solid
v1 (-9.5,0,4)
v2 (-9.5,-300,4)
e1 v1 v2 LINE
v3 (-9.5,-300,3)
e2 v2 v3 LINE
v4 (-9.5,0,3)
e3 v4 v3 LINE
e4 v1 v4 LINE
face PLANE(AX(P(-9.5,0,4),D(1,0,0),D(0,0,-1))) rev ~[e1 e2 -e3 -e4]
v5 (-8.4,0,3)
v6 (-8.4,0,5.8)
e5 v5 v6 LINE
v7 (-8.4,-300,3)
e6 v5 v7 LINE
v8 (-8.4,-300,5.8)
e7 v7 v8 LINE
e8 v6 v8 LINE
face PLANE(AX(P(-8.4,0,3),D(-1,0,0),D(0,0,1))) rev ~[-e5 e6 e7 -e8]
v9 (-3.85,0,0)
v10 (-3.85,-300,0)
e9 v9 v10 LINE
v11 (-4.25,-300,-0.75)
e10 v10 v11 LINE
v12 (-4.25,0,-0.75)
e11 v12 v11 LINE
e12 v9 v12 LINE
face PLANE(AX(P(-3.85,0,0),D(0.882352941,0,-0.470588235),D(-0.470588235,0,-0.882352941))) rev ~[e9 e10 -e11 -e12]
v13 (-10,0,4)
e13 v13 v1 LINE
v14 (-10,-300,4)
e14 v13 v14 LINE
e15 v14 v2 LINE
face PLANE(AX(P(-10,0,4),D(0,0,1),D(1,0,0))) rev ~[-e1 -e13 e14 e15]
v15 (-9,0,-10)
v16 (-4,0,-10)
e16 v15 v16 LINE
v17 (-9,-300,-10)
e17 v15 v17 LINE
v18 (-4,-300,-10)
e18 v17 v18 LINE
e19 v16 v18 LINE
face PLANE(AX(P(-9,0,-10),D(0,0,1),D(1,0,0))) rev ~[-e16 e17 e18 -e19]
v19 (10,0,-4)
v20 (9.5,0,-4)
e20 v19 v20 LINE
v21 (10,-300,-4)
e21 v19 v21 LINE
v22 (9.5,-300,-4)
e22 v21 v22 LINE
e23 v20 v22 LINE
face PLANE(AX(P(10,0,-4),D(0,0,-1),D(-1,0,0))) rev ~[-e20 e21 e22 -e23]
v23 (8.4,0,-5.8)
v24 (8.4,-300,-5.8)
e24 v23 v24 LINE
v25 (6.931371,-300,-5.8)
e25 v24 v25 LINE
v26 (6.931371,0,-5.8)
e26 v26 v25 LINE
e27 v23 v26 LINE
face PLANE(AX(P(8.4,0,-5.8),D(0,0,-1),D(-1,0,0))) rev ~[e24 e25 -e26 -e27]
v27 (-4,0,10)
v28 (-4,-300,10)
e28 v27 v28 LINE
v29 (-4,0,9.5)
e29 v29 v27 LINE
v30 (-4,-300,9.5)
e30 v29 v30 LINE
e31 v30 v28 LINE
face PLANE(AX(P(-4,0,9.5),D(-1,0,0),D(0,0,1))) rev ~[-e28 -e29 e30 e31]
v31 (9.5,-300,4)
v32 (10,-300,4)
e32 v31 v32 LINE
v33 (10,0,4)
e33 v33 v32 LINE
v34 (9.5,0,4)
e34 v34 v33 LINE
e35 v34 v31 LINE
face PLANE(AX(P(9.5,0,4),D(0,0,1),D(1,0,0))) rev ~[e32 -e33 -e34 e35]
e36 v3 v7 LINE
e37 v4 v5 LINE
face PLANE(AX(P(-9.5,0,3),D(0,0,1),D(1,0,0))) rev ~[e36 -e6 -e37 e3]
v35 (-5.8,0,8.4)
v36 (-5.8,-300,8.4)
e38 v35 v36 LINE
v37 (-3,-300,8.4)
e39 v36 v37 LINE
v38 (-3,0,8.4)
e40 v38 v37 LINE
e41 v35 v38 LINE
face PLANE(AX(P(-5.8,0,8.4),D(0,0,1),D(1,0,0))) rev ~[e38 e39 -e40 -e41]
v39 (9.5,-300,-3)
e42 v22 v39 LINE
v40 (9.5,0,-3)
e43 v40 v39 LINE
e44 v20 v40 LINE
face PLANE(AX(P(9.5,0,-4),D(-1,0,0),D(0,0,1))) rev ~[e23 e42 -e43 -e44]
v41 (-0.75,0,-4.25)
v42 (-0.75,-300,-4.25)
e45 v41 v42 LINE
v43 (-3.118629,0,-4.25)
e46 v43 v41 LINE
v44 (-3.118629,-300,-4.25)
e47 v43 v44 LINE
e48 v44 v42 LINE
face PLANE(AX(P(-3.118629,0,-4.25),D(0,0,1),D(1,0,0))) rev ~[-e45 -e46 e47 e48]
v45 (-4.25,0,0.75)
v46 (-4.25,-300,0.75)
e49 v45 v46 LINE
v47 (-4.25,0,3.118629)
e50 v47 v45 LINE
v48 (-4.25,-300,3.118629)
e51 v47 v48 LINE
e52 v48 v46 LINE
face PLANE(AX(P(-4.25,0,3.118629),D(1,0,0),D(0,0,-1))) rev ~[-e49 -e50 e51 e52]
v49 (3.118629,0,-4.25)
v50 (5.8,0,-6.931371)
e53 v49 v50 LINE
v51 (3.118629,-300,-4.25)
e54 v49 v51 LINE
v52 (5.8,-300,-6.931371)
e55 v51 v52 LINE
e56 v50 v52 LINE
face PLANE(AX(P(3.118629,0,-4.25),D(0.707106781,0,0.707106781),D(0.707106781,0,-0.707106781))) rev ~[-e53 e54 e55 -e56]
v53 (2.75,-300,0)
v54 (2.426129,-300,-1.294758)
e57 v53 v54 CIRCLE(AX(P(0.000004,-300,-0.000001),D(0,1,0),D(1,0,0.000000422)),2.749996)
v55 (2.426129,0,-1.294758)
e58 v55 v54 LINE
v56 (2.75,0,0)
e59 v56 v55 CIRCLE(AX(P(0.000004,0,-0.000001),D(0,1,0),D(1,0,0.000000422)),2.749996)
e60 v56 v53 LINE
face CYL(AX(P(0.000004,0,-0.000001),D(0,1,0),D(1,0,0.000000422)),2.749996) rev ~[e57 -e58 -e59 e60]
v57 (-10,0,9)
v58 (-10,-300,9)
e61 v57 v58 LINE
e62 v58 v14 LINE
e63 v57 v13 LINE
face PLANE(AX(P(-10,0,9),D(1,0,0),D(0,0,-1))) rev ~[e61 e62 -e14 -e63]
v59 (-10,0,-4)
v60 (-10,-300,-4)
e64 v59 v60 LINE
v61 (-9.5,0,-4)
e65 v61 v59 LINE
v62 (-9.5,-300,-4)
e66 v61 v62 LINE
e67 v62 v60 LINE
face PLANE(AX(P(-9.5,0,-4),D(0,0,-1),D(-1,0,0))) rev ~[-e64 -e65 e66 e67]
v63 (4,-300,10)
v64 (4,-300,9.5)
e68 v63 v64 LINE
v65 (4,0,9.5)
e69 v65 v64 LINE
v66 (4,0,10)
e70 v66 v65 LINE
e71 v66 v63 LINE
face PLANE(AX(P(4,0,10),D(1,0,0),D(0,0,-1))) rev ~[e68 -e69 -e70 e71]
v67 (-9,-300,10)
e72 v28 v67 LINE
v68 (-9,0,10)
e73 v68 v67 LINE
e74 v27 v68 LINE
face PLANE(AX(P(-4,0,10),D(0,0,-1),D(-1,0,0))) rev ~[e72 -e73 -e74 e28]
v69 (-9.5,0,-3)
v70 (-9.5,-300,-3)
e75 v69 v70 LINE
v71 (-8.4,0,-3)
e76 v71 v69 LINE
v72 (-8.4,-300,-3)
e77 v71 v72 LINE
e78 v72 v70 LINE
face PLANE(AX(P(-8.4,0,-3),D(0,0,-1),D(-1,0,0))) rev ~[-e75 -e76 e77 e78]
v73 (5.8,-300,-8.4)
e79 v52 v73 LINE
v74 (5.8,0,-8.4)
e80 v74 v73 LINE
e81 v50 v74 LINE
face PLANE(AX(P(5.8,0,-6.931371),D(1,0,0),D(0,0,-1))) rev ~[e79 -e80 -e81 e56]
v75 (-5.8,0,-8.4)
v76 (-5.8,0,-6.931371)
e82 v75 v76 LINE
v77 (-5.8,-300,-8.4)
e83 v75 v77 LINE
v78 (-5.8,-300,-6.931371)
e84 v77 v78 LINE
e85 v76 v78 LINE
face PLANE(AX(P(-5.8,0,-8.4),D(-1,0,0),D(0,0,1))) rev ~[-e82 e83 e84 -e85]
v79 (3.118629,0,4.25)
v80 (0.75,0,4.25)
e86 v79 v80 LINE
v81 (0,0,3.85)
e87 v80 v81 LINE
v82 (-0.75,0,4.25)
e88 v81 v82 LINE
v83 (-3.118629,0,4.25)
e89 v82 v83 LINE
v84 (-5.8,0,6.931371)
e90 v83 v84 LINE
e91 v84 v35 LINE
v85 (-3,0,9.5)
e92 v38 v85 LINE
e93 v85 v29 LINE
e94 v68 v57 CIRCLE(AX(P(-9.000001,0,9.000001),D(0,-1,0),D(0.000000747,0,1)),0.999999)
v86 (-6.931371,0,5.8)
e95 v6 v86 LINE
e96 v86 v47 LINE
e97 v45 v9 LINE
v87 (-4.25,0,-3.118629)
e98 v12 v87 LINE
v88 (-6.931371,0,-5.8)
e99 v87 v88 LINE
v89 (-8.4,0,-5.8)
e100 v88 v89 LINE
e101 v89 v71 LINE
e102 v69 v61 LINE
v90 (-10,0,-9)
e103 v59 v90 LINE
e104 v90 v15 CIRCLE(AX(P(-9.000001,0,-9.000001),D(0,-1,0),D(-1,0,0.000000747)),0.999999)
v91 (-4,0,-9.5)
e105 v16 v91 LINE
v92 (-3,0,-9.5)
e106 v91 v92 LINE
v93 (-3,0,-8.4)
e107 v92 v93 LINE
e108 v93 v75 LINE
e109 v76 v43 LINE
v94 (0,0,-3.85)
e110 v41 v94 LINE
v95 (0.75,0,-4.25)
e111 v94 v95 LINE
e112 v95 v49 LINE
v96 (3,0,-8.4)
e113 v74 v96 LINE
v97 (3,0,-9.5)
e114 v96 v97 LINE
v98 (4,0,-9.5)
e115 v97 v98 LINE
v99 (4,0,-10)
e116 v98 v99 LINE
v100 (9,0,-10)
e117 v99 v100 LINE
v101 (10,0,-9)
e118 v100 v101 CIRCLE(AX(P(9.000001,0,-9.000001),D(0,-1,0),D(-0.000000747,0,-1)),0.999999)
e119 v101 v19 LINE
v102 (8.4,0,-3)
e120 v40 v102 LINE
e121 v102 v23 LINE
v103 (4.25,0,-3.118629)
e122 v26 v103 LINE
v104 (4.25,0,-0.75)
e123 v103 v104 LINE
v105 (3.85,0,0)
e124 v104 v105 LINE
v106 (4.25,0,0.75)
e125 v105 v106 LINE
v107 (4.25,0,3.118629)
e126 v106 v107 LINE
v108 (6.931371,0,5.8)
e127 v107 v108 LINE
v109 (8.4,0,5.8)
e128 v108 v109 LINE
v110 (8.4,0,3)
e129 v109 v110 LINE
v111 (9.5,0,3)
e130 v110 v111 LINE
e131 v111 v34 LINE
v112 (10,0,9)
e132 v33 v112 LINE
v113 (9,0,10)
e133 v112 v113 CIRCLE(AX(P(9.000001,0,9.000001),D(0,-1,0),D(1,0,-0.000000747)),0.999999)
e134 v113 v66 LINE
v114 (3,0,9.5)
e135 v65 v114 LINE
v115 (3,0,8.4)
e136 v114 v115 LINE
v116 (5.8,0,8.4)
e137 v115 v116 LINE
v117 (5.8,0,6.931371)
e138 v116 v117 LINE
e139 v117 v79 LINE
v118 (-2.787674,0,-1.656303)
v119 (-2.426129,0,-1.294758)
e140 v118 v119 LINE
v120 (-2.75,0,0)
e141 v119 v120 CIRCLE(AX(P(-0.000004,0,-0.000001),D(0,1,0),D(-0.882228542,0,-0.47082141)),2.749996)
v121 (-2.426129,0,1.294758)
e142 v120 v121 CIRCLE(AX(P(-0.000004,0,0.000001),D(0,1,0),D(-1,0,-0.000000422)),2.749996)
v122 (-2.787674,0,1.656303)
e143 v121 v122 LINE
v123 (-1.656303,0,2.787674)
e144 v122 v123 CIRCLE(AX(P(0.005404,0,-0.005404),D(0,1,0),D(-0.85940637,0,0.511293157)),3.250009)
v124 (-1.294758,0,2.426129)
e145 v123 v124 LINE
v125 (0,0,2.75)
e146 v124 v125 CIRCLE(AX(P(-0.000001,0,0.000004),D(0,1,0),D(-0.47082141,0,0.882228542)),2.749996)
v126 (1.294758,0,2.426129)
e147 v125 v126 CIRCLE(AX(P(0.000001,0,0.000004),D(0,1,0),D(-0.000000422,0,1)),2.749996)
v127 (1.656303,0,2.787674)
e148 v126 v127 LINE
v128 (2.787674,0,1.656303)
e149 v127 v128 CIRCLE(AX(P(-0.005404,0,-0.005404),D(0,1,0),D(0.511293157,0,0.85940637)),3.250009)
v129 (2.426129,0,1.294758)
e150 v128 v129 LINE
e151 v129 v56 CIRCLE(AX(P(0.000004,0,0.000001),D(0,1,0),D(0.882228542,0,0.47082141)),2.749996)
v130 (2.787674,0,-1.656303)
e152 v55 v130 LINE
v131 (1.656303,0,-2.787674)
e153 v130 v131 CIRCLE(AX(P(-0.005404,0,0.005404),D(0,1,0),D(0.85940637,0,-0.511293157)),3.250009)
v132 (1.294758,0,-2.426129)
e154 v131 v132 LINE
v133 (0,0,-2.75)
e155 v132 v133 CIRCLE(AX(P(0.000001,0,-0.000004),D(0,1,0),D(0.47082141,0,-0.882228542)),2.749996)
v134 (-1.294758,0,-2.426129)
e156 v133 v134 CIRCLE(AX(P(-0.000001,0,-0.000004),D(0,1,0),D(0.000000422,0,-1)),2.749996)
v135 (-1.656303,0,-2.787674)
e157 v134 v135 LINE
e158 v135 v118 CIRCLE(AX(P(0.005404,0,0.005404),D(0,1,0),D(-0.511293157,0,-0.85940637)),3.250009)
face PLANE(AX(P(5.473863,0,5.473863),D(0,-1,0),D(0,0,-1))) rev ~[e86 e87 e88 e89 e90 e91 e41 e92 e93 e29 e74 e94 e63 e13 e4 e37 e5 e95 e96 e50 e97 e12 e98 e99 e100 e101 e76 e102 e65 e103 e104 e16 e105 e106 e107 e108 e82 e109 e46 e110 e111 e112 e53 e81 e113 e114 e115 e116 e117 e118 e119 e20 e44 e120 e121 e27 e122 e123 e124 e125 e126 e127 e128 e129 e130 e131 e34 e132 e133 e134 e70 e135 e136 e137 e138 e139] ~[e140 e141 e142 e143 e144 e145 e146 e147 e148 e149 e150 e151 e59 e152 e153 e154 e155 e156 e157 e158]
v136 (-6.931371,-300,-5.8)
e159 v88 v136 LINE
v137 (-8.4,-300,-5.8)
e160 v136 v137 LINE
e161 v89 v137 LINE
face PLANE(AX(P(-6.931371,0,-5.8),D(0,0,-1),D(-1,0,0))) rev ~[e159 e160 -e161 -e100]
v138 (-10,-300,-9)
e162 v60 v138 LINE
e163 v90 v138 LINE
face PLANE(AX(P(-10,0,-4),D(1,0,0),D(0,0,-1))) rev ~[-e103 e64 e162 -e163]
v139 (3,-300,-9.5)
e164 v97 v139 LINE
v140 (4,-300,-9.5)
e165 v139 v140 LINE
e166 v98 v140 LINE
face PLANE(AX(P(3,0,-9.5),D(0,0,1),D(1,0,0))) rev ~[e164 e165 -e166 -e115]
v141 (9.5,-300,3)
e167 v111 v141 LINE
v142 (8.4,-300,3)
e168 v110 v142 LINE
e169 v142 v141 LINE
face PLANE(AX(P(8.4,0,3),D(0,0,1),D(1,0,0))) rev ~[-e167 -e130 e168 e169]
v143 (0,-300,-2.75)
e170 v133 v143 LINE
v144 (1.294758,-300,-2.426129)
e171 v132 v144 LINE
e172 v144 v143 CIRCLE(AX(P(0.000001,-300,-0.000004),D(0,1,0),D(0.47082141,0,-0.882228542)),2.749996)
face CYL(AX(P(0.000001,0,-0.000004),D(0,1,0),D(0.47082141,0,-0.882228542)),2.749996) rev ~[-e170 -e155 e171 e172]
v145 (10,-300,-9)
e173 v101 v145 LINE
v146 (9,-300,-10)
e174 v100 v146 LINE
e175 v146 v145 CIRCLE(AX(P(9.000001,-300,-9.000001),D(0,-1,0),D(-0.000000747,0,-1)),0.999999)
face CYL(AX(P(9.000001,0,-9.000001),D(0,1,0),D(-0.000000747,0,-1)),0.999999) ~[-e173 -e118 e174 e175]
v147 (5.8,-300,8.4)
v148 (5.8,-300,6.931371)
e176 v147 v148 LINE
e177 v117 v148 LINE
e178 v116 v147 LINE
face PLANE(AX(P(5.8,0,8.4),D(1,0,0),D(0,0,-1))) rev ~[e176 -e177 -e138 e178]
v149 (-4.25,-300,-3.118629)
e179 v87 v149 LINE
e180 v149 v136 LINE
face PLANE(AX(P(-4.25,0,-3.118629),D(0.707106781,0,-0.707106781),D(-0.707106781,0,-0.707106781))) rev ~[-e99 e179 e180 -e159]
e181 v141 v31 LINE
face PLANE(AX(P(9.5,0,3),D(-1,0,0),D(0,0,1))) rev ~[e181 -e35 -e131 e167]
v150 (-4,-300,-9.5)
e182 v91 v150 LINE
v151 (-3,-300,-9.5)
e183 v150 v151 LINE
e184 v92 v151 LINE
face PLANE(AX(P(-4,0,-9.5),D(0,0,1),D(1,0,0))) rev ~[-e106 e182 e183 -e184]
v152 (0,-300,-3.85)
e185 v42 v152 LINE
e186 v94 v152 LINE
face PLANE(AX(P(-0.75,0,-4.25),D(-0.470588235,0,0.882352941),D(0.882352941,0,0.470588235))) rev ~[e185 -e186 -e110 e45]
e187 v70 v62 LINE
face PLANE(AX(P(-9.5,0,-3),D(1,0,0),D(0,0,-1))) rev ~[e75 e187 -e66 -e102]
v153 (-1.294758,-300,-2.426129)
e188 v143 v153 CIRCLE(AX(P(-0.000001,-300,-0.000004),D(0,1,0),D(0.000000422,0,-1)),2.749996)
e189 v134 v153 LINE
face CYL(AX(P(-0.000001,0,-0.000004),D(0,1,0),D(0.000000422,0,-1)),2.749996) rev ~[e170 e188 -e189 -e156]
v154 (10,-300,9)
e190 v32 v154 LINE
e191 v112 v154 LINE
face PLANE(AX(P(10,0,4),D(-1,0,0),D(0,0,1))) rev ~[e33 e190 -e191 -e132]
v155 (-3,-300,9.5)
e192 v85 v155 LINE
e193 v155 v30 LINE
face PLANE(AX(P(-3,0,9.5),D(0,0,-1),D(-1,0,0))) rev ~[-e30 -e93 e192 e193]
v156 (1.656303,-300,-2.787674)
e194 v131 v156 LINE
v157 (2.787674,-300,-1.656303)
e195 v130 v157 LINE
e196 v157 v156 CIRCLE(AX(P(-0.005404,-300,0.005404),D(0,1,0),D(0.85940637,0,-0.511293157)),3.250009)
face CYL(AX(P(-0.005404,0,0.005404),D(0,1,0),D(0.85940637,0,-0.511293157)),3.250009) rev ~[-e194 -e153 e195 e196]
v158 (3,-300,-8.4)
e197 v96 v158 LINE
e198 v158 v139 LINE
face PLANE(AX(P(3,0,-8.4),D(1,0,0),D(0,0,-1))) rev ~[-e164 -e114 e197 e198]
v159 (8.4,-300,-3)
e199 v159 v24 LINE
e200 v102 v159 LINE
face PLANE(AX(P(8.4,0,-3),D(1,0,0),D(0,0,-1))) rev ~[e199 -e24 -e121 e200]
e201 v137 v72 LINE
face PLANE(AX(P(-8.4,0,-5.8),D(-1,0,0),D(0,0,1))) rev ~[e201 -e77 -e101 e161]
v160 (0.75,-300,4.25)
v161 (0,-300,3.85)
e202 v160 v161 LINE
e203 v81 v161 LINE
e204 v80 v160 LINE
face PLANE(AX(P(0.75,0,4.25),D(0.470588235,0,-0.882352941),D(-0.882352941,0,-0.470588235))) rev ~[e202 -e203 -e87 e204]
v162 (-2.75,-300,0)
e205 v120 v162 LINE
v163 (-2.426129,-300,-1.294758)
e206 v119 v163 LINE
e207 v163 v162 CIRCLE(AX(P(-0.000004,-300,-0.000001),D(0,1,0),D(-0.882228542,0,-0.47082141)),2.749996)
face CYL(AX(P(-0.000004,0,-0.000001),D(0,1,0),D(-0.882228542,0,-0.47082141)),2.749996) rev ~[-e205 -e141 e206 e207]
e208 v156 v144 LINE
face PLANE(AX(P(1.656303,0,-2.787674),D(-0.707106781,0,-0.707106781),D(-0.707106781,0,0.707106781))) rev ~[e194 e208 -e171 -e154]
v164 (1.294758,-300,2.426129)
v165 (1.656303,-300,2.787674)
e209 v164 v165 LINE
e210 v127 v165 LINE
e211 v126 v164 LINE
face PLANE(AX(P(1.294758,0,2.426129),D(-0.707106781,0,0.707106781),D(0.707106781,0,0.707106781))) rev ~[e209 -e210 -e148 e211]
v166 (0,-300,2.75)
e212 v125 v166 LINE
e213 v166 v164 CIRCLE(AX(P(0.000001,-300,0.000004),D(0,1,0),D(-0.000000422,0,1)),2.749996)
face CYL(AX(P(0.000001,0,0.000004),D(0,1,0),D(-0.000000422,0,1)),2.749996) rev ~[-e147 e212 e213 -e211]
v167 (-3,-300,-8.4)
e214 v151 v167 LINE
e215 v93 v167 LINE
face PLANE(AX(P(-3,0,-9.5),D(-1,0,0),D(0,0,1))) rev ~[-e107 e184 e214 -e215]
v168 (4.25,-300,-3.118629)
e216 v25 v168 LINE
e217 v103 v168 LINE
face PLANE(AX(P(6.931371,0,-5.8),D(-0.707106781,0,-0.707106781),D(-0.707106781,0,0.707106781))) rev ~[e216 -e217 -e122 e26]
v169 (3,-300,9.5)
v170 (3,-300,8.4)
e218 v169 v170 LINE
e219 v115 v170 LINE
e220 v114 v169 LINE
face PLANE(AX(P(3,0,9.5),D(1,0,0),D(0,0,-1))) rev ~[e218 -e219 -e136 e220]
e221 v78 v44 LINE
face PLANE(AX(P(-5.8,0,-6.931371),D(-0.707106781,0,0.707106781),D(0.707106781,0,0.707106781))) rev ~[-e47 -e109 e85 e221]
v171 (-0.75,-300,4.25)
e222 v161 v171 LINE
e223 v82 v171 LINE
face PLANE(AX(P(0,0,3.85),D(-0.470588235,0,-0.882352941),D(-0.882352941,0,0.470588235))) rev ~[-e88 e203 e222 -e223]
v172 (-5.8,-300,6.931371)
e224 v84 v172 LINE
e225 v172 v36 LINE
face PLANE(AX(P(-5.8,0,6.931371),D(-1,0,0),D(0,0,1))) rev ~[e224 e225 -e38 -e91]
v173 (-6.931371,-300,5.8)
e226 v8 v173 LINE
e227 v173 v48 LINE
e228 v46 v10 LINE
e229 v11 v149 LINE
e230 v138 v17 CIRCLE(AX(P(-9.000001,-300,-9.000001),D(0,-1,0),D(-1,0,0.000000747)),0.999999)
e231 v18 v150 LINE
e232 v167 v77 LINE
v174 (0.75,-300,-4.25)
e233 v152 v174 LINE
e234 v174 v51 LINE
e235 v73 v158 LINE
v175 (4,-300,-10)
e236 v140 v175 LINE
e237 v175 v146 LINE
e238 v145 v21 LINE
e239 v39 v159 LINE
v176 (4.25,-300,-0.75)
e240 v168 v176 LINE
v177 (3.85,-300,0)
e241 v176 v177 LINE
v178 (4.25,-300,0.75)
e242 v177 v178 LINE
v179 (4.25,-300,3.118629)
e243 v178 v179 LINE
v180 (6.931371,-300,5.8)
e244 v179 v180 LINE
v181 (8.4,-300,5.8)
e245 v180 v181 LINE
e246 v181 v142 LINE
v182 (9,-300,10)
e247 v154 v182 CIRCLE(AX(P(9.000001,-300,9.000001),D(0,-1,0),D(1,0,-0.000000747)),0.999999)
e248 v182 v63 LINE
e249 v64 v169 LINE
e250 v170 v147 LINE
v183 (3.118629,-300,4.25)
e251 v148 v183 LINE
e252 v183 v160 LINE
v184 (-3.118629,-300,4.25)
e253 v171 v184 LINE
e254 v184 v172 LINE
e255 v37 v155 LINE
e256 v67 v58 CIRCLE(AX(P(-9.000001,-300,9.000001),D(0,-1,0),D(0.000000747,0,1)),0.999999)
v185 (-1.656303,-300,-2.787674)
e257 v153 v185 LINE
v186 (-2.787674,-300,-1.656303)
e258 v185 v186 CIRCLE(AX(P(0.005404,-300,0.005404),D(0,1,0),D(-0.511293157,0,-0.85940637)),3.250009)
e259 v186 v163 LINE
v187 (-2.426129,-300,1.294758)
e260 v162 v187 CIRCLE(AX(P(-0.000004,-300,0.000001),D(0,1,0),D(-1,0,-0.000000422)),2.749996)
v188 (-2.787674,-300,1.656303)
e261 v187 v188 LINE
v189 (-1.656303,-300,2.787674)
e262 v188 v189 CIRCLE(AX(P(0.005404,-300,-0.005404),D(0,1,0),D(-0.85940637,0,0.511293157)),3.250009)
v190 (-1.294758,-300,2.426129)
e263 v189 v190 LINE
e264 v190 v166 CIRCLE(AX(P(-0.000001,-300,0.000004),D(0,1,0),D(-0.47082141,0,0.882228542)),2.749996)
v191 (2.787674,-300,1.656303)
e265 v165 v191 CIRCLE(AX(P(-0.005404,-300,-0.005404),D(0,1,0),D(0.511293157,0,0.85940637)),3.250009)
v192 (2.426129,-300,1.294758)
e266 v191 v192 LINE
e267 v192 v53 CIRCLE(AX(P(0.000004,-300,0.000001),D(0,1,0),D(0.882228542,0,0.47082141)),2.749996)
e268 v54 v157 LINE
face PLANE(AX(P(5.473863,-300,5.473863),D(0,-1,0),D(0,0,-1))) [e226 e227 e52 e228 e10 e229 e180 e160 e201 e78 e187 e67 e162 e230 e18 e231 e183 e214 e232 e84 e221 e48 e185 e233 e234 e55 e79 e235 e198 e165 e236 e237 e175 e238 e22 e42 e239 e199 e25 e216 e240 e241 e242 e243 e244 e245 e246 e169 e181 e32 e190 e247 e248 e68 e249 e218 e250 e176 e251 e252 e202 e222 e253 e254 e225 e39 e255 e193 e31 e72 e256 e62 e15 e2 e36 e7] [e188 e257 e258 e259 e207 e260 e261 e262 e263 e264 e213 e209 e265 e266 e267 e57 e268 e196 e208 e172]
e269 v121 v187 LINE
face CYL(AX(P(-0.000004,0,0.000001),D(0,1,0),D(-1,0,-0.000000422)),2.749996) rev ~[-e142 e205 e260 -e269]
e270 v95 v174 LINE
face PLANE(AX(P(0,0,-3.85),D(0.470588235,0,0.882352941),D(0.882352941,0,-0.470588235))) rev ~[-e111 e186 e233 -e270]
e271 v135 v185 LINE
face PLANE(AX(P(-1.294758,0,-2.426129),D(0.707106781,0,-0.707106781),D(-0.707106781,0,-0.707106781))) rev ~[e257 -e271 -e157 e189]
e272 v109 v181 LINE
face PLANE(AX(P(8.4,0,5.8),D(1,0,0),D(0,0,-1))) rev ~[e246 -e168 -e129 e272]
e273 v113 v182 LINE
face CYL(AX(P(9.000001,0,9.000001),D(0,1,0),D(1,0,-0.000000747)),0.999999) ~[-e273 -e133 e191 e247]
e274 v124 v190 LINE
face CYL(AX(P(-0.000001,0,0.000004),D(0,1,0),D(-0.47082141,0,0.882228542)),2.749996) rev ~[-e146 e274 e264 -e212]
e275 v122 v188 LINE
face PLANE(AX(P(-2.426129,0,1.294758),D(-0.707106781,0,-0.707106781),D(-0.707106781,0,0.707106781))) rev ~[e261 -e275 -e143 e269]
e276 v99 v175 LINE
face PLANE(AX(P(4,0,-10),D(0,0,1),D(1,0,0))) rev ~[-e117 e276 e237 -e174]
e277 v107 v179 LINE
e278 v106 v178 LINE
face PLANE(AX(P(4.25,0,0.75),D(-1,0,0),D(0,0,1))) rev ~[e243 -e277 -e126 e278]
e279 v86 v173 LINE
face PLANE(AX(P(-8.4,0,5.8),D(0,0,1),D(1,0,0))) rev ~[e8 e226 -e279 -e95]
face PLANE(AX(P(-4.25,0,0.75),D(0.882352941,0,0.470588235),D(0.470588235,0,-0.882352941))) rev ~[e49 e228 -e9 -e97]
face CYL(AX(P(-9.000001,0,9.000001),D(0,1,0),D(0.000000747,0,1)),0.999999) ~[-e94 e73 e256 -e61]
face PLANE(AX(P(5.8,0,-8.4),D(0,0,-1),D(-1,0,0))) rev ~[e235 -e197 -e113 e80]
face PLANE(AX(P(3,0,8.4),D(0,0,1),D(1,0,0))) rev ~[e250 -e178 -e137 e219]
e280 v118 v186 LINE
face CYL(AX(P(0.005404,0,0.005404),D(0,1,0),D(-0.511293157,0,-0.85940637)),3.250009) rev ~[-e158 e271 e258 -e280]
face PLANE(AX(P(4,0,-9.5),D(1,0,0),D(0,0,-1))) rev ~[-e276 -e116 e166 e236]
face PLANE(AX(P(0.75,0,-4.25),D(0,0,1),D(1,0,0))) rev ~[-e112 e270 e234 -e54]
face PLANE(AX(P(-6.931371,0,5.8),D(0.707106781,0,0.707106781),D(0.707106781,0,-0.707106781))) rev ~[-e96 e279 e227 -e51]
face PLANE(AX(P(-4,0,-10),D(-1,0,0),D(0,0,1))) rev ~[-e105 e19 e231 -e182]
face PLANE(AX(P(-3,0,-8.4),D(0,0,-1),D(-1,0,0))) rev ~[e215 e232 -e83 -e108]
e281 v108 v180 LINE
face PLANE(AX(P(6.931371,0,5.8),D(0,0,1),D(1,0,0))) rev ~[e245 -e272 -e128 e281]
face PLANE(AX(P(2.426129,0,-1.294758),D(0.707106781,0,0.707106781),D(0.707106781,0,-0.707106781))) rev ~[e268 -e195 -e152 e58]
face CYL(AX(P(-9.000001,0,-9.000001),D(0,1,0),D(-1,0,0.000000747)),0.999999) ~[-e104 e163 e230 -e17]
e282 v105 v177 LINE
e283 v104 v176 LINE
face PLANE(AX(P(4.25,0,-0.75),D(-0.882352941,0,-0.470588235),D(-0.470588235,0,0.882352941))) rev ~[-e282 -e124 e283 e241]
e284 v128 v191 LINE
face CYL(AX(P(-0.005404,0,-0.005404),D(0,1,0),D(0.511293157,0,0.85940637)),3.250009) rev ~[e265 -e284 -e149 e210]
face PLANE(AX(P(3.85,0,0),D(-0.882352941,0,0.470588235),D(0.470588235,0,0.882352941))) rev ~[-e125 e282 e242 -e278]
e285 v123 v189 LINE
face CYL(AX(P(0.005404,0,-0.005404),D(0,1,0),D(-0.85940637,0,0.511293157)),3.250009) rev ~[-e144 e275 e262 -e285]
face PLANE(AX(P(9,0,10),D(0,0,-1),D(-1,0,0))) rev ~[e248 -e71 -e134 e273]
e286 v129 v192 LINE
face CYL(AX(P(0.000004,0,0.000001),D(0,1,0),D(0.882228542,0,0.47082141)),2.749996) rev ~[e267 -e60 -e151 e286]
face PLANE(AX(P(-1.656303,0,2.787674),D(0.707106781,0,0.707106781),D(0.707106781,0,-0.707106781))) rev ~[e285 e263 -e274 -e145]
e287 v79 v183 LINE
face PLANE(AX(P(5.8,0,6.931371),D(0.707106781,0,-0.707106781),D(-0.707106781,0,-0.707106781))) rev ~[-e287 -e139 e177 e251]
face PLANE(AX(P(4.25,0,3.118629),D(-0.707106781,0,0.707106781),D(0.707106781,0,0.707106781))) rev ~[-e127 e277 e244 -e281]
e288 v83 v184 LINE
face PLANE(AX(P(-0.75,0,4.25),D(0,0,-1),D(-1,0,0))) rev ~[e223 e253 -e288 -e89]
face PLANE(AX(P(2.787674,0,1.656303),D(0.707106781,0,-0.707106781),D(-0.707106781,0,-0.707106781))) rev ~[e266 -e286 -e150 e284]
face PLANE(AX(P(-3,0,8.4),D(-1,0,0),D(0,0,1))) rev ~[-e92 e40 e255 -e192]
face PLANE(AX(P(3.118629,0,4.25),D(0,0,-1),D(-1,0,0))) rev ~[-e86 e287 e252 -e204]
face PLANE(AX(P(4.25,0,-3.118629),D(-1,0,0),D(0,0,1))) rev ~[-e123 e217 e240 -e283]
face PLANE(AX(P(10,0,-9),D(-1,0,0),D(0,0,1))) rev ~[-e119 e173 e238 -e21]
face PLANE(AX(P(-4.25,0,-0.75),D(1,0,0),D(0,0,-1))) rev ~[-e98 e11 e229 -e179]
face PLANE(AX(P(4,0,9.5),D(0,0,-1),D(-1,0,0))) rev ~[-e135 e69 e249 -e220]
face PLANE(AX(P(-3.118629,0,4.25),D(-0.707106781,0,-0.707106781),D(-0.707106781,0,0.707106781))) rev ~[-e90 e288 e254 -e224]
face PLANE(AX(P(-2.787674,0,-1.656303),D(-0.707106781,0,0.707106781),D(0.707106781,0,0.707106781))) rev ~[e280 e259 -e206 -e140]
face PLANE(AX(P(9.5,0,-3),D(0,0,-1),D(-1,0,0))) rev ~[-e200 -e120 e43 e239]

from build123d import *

# Parameters (mm, degrees)
F1_DEPTH = 300
F3_COUNT = 4


with BuildPart() as f1:
    # F0 (on Front) → F1 (new body)
    with BuildSketch(Plane.XZ):
        with BuildLine():
            ThreePointArc((-2.75, 0), (-2.667804, 0.667325), (-2.426129, 1.294758))
            Line((-2.426129, 1.294758), (-2.787674, 1.656303))
            ThreePointArc((-2.787674, 1.656303), (-2.292699, 2.292699), (-1.656303, 2.787674))
            Line((-1.656303, 2.787674), (-1.294758, 2.426129))
            ThreePointArc((-1.294758, 2.426129), (-0.667325, 2.667804), (0, 2.75))
            Line((0, 2.75), (0, 3.85))
            Line((0, 3.85), (-0.75, 4.25))
            Line((-0.75, 4.25), (-3.118629, 4.25))
            Line((-3.118629, 4.25), (-5.8, 6.931371))
            Line((-5.8, 6.931371), (-5.8, 8.4))
            Line((-5.8, 8.4), (-3, 8.4))
            Line((-3, 8.4), (-3, 9.5))
            Line((-3, 9.5), (-4, 9.5))
            Line((-4, 9.5), (-4, 10))
            Line((-4, 10), (-9, 10))
            ThreePointArc((-9, 10), (-9.707107, 9.707107), (-10, 9))
            Line((-10, 9), (-10, 4))
            Line((-10, 4), (-9.5, 4))
            Line((-9.5, 4), (-9.5, 3))
            Line((-9.5, 3), (-8.4, 3))
            Line((-8.4, 3), (-8.4, 5.8))
            Line((-8.4, 5.8), (-6.931371, 5.8))
            Line((-6.931371, 5.8), (-4.25, 3.118629))
            Line((-4.25, 3.118629), (-4.25, 0.75))
            Line((-4.25, 0.75), (-3.85, 0))
            Line((-3.85, 0), (-2.75, 0))
        make_face()
    extrude(amount=F1_DEPTH)

    # F3: F1 ×4 about axis
    f3_axis = Axis((0, -150, 0), (0, -1, 0))


with BuildPart() as f1_1:
    add(f1.part)
    for i in range(1, F3_COUNT):
        add(f1.part.rotate(f3_axis, i * 360 / F3_COUNT))


solid = f1_1.part
